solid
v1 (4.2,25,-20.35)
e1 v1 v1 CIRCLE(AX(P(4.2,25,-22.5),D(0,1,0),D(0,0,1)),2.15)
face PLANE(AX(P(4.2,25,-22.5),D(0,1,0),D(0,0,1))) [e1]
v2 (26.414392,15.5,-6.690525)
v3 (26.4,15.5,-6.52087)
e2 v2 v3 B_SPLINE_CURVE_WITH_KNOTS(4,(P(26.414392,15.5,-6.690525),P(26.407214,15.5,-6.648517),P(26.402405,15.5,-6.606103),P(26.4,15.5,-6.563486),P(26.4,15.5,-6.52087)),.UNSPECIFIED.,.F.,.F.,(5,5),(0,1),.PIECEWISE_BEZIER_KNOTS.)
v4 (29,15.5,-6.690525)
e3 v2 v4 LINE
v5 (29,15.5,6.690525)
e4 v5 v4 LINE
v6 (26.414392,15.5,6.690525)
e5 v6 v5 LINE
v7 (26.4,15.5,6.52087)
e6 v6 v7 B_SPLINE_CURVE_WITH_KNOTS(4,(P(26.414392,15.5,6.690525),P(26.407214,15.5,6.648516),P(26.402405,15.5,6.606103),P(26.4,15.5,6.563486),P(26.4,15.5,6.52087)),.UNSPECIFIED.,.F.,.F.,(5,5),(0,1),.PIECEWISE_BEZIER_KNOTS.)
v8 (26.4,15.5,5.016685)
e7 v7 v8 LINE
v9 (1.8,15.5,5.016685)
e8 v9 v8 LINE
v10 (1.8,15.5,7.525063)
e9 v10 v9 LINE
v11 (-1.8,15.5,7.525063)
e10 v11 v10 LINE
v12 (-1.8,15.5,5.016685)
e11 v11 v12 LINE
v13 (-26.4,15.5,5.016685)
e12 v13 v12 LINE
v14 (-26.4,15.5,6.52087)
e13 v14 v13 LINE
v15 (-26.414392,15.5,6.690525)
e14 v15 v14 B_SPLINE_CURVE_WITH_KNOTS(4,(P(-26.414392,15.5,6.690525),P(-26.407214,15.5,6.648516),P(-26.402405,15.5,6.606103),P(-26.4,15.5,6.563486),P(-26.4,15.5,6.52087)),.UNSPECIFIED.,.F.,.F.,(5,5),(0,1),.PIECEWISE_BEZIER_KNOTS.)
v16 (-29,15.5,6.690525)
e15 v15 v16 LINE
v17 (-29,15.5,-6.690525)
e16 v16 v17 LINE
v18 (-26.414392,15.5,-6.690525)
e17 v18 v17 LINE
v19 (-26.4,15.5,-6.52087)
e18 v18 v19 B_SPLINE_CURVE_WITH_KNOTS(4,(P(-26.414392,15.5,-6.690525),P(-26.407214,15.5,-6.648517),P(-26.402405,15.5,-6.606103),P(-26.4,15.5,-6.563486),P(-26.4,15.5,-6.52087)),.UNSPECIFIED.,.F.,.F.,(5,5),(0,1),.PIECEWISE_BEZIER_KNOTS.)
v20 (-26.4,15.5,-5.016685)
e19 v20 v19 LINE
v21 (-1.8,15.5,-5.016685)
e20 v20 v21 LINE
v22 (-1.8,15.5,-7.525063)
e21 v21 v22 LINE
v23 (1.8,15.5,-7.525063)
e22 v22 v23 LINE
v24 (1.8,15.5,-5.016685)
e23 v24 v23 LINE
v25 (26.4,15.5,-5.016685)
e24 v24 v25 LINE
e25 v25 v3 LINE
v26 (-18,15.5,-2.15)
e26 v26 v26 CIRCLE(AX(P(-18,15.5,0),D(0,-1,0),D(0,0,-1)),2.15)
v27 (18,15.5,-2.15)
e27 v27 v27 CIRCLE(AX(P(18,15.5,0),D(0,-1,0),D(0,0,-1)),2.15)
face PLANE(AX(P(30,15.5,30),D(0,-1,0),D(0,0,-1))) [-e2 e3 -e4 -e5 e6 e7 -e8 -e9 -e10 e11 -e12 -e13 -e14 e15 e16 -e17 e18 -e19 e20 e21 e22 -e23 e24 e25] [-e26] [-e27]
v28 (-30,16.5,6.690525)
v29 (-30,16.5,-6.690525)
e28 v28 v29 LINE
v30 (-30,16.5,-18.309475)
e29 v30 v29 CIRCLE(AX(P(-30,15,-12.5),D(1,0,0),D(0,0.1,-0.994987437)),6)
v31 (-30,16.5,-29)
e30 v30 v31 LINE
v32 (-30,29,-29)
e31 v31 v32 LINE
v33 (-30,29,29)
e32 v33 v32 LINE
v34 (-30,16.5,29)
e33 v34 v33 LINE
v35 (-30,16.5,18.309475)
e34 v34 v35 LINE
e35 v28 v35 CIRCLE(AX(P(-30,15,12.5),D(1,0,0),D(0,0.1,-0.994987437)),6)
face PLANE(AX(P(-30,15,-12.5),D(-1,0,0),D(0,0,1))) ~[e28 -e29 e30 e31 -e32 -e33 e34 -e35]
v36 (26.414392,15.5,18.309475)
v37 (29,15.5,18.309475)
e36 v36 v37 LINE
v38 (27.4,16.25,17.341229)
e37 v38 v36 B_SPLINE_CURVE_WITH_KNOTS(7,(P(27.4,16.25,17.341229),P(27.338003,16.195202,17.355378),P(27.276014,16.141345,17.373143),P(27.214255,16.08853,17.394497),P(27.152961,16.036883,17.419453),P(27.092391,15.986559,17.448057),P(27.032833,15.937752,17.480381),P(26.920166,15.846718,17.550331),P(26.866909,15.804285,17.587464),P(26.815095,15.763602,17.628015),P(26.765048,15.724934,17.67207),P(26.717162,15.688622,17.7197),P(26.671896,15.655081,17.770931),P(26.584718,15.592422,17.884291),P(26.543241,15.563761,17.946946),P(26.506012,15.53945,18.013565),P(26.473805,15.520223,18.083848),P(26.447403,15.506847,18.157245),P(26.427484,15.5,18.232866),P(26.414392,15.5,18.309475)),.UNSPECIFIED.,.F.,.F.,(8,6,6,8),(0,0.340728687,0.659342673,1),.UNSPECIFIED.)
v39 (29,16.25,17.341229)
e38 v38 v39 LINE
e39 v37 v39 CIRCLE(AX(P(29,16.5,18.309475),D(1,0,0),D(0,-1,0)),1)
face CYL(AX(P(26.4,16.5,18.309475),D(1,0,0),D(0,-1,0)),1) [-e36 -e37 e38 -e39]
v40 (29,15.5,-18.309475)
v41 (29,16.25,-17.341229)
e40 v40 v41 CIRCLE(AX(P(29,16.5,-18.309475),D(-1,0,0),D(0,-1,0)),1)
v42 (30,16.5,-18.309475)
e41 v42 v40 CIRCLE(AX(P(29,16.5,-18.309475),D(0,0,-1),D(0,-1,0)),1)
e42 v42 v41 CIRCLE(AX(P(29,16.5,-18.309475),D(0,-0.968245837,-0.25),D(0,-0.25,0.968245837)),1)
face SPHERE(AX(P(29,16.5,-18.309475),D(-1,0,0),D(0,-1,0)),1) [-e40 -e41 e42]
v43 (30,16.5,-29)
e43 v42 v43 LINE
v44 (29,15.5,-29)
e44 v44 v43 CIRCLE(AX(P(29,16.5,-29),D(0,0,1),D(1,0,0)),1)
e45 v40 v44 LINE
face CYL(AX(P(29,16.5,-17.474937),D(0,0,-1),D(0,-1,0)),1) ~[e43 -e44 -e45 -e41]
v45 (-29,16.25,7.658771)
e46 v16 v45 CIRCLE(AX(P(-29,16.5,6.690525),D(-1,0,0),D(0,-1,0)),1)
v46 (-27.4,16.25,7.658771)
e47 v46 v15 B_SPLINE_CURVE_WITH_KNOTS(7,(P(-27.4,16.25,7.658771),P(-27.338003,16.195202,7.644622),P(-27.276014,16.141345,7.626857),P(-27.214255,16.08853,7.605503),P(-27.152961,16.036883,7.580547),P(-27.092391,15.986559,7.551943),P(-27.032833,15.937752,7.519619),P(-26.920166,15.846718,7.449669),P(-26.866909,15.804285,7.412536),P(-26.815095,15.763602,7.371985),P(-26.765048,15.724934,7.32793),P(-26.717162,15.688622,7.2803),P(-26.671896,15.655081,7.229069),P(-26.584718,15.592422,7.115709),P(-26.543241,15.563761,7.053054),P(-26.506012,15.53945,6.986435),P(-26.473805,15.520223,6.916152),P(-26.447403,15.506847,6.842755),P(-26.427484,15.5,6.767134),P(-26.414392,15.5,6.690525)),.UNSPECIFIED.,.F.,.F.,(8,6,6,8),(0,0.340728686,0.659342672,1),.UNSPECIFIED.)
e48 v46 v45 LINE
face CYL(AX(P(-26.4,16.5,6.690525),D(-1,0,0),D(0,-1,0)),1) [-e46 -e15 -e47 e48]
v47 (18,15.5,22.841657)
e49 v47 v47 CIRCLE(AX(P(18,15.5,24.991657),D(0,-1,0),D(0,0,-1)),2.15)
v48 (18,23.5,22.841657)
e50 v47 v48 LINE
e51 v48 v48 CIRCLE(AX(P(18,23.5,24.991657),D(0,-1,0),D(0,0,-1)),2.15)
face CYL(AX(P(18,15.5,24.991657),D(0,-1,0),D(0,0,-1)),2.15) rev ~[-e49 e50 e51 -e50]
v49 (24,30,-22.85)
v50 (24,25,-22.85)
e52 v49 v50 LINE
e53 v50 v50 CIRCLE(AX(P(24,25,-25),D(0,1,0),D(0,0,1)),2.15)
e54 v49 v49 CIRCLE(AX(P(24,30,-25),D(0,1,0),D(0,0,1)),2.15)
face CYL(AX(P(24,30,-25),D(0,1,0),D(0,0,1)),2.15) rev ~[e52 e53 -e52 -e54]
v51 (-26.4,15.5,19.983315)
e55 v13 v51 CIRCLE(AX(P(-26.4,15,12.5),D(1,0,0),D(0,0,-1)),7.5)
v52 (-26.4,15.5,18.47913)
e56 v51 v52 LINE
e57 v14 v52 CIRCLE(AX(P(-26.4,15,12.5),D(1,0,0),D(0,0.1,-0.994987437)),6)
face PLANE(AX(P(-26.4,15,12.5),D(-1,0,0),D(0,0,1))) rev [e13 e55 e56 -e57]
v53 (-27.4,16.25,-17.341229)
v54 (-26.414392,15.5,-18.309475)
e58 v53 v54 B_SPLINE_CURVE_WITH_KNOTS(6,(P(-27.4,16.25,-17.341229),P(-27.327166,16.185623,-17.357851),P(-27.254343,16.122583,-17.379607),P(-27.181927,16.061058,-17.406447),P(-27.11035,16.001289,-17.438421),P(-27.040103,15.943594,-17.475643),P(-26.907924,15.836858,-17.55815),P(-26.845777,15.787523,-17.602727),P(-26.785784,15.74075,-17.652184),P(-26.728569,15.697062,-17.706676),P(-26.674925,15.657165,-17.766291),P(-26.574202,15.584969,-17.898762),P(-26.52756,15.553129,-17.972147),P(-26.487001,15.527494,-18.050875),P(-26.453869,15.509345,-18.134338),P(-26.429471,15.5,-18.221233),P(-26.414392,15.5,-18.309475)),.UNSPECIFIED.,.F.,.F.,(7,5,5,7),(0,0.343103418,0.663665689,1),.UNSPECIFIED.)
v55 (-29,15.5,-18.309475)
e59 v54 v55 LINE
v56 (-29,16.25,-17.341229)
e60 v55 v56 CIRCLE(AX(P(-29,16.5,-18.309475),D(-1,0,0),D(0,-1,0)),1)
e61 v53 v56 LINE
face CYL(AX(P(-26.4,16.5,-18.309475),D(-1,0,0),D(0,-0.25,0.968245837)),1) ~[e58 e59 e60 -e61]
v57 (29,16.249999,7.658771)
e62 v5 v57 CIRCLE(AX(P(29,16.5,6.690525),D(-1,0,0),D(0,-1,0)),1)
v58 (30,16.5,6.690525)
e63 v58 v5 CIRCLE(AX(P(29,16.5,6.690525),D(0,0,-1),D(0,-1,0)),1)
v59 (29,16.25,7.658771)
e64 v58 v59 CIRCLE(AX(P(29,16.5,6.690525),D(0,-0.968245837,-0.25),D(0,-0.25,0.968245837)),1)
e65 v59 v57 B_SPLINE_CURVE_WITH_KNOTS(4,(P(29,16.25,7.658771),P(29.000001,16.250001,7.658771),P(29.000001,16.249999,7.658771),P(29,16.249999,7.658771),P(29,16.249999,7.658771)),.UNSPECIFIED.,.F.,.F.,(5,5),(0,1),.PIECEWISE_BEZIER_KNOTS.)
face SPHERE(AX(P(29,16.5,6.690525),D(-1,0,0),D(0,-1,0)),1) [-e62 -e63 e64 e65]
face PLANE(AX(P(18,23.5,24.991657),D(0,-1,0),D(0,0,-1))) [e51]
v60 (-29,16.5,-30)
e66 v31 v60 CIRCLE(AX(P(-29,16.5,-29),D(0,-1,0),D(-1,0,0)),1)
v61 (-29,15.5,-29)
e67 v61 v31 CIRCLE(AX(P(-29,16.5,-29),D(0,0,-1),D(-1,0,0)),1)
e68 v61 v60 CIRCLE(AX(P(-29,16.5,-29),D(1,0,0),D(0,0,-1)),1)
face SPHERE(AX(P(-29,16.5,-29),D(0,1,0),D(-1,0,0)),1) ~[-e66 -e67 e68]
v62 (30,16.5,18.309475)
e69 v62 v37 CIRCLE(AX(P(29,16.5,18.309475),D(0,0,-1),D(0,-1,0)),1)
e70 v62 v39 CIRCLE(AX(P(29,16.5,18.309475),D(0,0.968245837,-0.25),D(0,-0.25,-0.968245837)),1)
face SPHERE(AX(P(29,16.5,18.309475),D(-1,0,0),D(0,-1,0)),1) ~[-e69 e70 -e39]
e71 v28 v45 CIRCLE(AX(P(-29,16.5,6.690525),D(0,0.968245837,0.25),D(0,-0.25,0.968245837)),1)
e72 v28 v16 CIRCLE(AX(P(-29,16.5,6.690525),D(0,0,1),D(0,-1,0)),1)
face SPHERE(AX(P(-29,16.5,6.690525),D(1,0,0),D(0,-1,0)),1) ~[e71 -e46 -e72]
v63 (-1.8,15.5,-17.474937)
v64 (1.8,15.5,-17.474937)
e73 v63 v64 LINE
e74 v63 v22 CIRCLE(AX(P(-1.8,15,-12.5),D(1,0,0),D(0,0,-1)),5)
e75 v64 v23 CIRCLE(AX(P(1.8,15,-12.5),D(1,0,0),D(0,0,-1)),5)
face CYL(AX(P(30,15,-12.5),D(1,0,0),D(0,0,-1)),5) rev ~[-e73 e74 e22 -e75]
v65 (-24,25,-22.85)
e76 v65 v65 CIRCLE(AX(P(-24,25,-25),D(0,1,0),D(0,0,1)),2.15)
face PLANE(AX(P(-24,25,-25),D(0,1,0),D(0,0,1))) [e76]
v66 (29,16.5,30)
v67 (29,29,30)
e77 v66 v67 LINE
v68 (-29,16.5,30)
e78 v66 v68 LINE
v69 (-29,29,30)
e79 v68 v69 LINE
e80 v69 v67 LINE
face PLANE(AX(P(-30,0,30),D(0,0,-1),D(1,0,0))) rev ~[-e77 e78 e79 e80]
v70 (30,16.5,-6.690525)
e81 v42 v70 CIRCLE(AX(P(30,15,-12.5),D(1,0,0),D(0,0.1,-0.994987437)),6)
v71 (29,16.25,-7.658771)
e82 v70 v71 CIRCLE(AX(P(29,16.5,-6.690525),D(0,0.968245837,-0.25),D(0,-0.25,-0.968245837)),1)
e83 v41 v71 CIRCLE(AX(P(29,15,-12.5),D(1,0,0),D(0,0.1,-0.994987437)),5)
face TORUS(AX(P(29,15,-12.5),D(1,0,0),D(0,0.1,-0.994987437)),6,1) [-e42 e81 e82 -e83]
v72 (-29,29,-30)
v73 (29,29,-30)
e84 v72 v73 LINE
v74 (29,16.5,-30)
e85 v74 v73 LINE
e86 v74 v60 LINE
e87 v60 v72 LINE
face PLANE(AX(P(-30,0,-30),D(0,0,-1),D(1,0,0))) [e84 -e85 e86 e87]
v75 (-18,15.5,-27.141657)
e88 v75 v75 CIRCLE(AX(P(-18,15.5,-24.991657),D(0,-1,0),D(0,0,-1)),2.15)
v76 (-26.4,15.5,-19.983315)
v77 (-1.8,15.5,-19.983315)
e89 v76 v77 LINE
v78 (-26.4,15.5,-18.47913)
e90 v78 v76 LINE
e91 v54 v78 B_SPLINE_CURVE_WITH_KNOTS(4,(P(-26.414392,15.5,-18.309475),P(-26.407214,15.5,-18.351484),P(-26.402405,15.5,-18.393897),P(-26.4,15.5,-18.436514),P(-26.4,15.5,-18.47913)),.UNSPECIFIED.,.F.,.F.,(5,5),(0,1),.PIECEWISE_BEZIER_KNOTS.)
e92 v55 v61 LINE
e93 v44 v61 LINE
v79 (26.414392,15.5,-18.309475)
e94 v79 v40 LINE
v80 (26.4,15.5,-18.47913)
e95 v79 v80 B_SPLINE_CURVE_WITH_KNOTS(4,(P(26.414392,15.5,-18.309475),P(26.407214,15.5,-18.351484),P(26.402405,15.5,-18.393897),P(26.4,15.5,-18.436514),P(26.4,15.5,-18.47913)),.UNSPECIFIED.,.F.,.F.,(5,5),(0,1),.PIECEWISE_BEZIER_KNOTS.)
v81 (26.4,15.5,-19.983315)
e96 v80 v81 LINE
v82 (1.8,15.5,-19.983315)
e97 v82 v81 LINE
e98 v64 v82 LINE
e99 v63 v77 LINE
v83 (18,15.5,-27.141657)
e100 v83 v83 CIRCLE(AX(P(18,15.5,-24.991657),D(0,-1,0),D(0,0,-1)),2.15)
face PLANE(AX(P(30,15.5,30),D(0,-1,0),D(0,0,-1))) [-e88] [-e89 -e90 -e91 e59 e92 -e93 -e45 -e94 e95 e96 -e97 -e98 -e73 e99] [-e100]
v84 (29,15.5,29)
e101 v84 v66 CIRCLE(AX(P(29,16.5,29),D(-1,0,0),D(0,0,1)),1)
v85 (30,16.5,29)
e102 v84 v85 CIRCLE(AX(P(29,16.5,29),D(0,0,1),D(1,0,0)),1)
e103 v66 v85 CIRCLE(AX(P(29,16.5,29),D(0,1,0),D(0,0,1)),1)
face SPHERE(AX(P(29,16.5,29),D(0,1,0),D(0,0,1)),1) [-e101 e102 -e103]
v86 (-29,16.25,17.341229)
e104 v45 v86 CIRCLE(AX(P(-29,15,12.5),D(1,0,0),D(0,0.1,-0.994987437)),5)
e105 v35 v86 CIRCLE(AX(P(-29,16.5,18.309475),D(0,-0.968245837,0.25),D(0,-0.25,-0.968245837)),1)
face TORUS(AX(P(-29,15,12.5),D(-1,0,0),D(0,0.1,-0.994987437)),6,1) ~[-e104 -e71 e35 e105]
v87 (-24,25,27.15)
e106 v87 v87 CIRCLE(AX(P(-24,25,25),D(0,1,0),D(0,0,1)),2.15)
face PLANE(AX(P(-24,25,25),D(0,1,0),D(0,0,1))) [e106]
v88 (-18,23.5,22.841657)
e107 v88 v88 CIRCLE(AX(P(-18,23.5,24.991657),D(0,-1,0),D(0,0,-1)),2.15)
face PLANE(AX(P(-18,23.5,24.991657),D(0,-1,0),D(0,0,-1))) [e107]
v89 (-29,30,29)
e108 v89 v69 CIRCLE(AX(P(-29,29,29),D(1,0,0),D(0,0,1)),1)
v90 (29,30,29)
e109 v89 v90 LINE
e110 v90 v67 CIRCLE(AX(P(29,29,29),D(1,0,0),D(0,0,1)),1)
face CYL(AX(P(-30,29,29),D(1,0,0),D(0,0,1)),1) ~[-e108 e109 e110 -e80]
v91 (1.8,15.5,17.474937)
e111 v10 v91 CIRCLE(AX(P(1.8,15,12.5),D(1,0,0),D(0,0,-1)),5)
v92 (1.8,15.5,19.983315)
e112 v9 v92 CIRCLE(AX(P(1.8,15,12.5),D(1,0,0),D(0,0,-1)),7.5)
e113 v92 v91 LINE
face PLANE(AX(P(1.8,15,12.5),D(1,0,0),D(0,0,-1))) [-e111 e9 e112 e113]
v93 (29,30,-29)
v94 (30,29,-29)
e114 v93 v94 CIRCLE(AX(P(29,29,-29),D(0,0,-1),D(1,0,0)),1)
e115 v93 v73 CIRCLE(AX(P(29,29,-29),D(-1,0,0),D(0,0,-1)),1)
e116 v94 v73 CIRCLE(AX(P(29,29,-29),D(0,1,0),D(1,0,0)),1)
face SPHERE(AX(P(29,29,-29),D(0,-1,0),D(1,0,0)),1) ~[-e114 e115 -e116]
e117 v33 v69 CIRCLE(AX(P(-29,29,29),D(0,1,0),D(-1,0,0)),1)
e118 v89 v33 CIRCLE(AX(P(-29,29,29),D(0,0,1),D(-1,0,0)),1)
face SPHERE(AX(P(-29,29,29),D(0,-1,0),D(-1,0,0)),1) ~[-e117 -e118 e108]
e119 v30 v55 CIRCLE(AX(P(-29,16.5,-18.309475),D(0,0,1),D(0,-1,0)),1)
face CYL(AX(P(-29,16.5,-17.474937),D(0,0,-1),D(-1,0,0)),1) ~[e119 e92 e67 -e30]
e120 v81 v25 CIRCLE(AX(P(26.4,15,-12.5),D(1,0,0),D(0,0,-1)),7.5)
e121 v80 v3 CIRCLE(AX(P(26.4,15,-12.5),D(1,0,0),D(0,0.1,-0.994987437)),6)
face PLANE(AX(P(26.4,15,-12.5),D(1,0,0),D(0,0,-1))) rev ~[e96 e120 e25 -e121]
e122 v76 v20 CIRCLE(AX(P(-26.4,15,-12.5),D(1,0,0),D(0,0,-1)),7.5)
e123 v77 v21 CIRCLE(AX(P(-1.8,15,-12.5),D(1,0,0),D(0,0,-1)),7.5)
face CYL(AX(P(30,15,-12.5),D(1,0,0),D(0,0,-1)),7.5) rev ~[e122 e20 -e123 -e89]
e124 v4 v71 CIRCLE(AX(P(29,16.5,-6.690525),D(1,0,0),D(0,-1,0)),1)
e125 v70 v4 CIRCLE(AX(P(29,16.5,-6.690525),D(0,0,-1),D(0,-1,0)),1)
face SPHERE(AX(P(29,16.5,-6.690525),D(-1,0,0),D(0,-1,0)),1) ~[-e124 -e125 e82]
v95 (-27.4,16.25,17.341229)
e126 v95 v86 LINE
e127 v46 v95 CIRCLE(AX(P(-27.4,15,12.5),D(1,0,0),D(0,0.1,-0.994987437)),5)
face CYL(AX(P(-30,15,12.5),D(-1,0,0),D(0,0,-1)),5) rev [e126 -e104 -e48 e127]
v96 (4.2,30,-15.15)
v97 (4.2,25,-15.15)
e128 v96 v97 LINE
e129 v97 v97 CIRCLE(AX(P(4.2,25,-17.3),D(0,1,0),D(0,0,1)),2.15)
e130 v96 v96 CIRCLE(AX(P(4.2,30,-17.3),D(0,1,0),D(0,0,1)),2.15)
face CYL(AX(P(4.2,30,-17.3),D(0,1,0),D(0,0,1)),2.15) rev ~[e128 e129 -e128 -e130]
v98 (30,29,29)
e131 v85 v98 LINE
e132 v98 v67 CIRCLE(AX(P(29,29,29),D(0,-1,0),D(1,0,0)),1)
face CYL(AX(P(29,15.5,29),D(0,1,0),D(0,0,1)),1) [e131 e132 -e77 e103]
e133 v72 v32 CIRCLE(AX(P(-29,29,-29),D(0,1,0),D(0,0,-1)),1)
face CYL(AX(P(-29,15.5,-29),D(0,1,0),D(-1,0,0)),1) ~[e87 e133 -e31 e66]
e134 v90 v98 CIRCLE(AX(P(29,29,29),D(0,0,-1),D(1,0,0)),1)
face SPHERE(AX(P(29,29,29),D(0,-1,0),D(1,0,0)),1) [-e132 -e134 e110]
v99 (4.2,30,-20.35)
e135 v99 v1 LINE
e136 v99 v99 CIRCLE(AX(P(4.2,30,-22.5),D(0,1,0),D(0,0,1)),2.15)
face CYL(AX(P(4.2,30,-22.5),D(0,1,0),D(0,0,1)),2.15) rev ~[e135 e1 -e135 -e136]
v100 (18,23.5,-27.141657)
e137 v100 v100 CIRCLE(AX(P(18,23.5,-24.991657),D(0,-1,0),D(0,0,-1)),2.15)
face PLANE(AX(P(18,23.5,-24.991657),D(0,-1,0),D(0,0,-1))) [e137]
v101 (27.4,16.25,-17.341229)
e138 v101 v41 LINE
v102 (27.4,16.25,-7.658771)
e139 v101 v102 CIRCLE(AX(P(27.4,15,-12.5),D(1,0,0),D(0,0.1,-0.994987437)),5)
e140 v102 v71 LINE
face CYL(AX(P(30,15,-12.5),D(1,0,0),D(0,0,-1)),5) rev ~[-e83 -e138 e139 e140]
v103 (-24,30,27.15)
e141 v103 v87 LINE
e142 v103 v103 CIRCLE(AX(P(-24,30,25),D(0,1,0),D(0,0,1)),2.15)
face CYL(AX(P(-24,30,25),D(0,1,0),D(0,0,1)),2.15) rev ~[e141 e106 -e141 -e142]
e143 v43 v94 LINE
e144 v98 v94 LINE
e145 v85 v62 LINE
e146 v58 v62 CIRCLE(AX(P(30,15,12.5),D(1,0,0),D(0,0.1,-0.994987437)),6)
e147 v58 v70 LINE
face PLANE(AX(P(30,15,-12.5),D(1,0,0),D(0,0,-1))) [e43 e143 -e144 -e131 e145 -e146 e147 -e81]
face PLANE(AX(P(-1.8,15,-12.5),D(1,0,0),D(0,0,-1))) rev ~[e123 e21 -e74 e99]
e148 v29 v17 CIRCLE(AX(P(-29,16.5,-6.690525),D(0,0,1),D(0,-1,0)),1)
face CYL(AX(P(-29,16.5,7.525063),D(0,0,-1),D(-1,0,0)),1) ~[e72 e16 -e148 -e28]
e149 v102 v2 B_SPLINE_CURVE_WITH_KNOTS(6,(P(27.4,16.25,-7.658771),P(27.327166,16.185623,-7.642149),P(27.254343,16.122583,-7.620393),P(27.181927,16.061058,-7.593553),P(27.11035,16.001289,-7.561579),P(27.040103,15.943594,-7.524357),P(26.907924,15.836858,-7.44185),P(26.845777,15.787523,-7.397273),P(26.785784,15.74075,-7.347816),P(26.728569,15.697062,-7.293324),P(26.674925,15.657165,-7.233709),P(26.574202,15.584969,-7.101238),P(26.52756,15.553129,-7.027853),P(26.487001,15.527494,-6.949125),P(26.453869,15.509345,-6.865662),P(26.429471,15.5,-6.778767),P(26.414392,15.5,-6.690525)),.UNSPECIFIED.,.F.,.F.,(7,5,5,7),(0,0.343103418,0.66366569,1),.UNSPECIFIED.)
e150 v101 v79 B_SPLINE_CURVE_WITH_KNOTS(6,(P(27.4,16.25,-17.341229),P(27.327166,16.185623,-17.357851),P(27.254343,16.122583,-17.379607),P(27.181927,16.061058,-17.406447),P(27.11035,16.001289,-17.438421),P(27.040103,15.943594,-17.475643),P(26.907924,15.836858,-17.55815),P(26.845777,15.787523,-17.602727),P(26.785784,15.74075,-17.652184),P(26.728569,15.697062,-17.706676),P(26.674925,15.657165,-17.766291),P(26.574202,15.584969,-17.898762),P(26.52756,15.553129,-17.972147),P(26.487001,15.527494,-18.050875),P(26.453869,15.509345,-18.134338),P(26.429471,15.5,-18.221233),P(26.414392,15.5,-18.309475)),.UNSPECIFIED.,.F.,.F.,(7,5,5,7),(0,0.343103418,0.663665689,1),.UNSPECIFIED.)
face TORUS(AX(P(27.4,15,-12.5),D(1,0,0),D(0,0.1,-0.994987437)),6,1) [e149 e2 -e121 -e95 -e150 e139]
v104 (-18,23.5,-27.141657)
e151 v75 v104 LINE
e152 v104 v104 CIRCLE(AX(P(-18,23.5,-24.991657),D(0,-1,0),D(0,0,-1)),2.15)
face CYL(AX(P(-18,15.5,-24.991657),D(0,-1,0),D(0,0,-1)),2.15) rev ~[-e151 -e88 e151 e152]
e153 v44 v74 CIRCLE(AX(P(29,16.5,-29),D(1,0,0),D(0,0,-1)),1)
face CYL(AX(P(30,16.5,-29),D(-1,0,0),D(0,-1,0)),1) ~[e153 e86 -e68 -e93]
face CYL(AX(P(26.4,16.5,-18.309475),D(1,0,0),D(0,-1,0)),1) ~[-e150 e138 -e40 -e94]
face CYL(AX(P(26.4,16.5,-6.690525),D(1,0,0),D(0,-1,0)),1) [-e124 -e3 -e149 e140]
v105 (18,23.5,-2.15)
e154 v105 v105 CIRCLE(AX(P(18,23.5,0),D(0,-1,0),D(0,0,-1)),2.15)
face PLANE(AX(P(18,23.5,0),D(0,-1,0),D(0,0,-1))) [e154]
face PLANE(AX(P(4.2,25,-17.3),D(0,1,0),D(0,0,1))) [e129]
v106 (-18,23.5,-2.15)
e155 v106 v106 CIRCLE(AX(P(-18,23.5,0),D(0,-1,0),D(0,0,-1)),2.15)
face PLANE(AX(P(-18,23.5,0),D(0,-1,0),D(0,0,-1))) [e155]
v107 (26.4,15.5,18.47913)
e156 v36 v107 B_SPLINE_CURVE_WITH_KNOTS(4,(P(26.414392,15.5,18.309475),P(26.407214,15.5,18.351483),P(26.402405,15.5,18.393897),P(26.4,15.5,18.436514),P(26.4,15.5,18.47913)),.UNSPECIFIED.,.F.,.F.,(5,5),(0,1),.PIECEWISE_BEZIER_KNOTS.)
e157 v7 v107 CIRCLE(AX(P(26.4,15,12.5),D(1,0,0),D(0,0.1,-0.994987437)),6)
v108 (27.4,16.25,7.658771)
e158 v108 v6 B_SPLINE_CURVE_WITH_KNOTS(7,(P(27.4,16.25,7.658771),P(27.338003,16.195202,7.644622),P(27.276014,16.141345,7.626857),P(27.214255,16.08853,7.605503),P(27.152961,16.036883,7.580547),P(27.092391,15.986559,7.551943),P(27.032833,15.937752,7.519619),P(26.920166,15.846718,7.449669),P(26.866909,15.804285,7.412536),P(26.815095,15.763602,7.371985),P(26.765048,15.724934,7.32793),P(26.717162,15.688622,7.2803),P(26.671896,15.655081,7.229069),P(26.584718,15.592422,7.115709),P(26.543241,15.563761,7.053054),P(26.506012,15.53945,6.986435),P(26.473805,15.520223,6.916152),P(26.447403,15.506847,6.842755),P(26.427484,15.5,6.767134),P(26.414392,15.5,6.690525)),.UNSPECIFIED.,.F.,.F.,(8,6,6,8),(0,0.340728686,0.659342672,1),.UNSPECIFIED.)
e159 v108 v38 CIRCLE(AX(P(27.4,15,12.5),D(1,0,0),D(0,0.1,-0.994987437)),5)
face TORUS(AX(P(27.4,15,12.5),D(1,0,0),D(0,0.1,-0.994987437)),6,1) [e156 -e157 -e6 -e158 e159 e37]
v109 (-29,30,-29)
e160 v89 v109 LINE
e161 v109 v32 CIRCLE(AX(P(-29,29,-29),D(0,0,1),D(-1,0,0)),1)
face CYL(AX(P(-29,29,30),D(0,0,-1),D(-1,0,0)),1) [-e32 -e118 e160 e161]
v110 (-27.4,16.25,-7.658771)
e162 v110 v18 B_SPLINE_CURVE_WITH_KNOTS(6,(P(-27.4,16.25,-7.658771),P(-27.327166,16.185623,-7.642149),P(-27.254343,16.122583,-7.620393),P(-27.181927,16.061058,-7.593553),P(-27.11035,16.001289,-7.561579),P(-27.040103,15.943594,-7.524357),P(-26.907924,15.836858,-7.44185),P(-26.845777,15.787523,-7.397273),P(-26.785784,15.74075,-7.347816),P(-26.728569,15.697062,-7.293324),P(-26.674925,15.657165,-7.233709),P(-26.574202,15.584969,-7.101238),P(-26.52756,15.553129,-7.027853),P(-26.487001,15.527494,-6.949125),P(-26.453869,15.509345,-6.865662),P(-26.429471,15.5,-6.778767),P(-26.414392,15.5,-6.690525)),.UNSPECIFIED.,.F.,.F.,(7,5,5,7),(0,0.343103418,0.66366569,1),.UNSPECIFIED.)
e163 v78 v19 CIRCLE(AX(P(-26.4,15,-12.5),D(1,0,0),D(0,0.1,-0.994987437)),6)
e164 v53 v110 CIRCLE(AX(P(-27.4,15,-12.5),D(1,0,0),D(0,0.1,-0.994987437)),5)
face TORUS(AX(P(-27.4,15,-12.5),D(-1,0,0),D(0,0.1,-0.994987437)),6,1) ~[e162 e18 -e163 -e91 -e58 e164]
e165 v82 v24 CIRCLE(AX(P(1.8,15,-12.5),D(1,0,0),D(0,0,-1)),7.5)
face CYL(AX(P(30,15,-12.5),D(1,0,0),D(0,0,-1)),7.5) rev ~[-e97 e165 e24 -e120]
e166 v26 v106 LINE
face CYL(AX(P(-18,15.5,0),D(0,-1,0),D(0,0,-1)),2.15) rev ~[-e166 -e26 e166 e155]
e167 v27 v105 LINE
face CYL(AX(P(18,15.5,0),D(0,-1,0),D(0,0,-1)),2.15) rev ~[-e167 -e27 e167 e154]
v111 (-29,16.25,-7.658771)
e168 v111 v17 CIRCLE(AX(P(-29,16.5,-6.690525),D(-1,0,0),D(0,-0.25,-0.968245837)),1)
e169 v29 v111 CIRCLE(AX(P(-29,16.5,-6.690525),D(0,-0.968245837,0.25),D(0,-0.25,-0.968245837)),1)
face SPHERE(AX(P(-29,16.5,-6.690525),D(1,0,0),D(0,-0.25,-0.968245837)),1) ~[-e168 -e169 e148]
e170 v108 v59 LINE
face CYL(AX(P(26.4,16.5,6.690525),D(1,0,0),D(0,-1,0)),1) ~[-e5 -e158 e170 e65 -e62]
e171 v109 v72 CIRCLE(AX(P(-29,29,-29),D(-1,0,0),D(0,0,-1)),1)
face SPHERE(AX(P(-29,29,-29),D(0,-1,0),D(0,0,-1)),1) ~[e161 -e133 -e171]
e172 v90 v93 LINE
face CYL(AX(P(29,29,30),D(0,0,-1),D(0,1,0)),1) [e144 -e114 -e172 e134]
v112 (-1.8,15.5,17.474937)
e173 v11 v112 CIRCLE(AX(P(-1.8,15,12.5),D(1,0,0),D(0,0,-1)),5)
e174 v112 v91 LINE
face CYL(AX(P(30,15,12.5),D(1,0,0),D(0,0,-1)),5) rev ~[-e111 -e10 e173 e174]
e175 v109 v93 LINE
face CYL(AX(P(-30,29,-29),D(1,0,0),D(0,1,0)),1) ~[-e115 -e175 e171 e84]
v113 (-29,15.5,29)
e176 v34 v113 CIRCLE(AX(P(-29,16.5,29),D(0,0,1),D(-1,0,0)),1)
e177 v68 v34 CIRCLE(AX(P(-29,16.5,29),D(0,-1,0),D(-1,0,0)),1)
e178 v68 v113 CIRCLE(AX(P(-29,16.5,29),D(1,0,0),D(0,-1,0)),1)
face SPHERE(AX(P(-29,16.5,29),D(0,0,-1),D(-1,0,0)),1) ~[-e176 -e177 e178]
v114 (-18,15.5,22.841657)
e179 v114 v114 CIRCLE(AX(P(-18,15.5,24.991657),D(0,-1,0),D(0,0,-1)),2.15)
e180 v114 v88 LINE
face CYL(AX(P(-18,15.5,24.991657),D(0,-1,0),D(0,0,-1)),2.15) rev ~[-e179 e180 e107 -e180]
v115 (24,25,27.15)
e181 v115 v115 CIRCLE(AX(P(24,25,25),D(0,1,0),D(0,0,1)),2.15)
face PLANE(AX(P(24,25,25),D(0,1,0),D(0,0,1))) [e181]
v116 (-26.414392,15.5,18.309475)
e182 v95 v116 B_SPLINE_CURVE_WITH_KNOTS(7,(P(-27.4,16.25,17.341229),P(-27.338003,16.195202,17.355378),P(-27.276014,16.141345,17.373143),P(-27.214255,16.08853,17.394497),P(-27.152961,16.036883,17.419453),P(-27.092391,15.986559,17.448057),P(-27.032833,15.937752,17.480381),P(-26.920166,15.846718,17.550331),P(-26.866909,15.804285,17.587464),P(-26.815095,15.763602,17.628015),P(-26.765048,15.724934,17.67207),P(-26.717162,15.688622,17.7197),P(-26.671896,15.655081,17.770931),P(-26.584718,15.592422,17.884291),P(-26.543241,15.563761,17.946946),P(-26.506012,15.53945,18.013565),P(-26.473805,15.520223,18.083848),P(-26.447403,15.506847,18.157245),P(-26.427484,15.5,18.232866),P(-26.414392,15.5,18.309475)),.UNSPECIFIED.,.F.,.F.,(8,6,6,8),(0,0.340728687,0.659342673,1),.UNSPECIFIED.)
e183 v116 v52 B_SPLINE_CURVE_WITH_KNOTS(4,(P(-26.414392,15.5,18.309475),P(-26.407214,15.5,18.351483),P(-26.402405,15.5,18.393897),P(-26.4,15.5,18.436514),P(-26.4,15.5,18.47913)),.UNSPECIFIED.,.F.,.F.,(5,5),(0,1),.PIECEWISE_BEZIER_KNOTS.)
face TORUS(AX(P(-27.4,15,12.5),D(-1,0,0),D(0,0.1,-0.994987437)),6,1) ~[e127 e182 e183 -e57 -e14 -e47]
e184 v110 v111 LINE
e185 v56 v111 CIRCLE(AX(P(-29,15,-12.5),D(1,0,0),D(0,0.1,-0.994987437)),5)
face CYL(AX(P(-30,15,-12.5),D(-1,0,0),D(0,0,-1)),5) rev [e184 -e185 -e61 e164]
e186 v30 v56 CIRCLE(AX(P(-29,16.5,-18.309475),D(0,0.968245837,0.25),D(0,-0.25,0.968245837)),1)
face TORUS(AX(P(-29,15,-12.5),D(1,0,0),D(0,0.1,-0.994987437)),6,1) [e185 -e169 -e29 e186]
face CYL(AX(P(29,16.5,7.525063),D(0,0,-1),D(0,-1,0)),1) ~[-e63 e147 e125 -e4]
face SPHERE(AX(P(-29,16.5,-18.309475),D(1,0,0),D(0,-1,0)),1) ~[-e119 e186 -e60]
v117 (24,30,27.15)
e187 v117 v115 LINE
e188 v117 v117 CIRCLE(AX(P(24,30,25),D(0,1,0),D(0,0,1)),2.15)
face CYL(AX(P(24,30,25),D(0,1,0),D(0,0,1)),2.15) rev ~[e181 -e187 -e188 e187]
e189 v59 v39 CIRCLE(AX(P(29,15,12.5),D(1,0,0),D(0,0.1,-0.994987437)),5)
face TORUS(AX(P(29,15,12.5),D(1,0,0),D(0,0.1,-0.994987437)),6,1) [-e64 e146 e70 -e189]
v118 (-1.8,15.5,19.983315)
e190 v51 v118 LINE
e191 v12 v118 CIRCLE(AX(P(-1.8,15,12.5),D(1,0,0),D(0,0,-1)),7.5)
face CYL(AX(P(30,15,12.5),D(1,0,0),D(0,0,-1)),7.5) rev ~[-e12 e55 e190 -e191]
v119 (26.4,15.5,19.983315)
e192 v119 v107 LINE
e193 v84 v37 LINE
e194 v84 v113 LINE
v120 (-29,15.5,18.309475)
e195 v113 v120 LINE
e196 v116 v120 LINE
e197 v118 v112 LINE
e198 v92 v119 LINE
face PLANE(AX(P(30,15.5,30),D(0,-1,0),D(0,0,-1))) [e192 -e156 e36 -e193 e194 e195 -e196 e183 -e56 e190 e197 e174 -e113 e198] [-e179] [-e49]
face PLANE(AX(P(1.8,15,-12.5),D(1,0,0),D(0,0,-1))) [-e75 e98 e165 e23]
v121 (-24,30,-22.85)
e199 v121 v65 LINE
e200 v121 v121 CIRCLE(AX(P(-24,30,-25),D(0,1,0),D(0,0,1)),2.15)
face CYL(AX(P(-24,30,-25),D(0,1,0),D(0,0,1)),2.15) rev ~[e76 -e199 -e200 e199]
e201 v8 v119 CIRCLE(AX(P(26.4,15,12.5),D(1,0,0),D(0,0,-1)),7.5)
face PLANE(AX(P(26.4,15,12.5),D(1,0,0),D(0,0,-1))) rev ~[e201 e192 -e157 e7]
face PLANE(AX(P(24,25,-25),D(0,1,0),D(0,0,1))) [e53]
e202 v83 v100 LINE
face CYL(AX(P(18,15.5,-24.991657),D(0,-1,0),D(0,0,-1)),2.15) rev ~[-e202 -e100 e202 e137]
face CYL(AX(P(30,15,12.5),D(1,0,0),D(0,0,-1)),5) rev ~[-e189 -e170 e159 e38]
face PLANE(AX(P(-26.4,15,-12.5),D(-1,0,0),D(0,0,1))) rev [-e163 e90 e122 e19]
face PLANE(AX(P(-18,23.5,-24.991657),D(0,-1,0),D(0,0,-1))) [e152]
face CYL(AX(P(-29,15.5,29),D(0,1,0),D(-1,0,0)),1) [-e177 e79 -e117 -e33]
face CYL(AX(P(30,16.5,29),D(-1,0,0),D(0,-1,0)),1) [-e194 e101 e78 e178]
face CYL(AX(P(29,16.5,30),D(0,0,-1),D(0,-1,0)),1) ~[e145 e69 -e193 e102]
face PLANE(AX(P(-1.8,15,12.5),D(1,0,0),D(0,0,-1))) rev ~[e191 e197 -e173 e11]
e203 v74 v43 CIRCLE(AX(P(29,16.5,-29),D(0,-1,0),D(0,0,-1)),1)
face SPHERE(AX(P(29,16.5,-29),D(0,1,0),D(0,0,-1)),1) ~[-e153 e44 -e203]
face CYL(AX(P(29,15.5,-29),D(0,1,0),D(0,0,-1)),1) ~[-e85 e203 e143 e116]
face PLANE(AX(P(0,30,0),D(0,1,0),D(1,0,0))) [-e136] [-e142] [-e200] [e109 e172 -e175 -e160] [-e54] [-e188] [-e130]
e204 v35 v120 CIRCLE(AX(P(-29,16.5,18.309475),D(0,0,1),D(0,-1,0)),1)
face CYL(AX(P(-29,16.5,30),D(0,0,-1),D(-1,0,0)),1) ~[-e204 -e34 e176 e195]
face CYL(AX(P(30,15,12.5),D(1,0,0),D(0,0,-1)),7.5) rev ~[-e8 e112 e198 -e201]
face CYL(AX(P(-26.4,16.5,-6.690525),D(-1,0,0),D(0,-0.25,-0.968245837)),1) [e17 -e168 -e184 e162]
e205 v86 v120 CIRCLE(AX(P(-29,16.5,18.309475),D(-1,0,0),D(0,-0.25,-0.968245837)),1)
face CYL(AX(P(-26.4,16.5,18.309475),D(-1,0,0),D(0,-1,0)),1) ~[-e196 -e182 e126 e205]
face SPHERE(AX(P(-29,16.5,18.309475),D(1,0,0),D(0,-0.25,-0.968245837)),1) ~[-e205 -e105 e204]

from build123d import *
from build123d.topology import SkipClean

# Parameters (mm, degrees)
SKETCH1_W           = 60
SKETCH1_H           = 60
BOSS_EXTRUDE1_DEPTH = 30
CUT_EXTRUDE1_REACH  = 75.485
SKETCH2_R           = 7.5
SKETCH6_R           = 7.5
BOSS_EXTRUDE2_DEPTH = 1.8
SKETCH3_R           = 2.15
CUT_EXTRUDE2_DEPTH  = 5
SKETCH7_R           = 7.5
SKETCH7_R_2         = 5
BOSS_EXTRUDE3_DEPTH = 3.6
SKETCH4_W           = 60
SKETCH4_H           = 1
CUT_EXTRUDE3_DEPTH  = 74.484692283
SKETCH5_R           = 2.15
CUT_EXTRUDE4_DEPTH  = 8
FILLET2_R           = 1
SKETCH10_R          = 5
CUT_EXTRUDE5_DEPTH  = 74.484692283
SKETCH11_R          = 2.15
L_ARM_HOLES_DEPTH   = 5


with BuildPart() as part:
    # Sketch1 → Boss-Extrude1 (new body)
    with BuildSketch(Plane(origin=(0, 0, 0), x_dir=(1, 0, 0), z_dir=(0, 1, 0))):
        Rectangle(SKETCH1_W, SKETCH1_H)
    extrude(amount=BOSS_EXTRUDE1_DEPTH)

    # Sketch2 → Cut-Extrude1 (cut, up to next)
    with BuildSketch(Plane(origin=(30, 0, 0), x_dir=(0, 0, -1), z_dir=(1, 0, 0)), mode=Mode.PRIVATE) as cut_extrude1_sk1:
        with Locations((-12.5, 15)):
            Circle(SKETCH2_R)
    cut_extrude1_tool1 = extrude(cut_extrude1_sk1.sketch, amount=-CUT_EXTRUDE1_REACH, mode=Mode.PRIVATE) & part.part
    # Sketch2 → Cut-Extrude1 (cut, up to next)
    with BuildSketch(Plane(origin=(30, 0, 0), x_dir=(0, 0, -1), z_dir=(1, 0, 0)), mode=Mode.PRIVATE) as cut_extrude1_sk2:
        with Locations((12.5, 15)):
            Circle(SKETCH2_R)
    cut_extrude1_tool2 = extrude(cut_extrude1_sk2.sketch, amount=-CUT_EXTRUDE1_REACH, mode=Mode.PRIVATE) & part.part
    add(cut_extrude1_tool1.solids().sort_by_distance((30, 15, 12.5))[0], mode=Mode.SUBTRACT)
    add(cut_extrude1_tool2.solids().sort_by_distance((30, 15, -12.5))[0], mode=Mode.SUBTRACT)

    # Sketch6 → Boss-Extrude2 (add, symmetric)
    with BuildSketch(Plane(origin=(0, 0, 0), x_dir=(0, 0, -1), z_dir=(1, 0, 0))):
        with Locations((12.5, 15)):
            Circle(SKETCH6_R)
        with Locations((-12.5, 15)):
            Circle(SKETCH6_R)
    extrude(amount=BOSS_EXTRUDE2_DEPTH, both=True)

    # Sketch3 → Cut-Extrude2 (cut)
    with BuildSketch(Plane(origin=(0, 30, 0), x_dir=(1, 0, 0), z_dir=(0, 1, 0))):
        with Locations(Location((-24, 25, 0), (0, 0, 270))):
            Circle(SKETCH3_R)
        with Locations(Location((-24, -25, 0), (0, 0, 270))):
            Circle(SKETCH3_R)
        with Locations(Location((24, -25, 0), (0, 0, 270))):
            Circle(SKETCH3_R)
        with Locations(Location((24, 25, 0), (0, 0, 270))):
            Circle(SKETCH3_R)
    extrude(amount=-CUT_EXTRUDE2_DEPTH, mode=Mode.SUBTRACT)

    # Sketch7 → Boss-Extrude3 (add)
    # profile 1 of 2: a face of its own
    with BuildSketch(Plane(origin=(30, 0, 0), x_dir=(0, 0, -1), z_dir=(1, 0, 0))):
        with Locations((12.5, 15)):
            Circle(SKETCH7_R)
        with Locations((12.5, 15)):
            Circle(SKETCH7_R_2, mode=Mode.SUBTRACT)
    # profile 2 of 2: a face of its own
    with BuildSketch(Plane(origin=(30, 0, 0), x_dir=(0, 0, -1), z_dir=(1, 0, 0))):
        with Locations((-12.5, 15)):
            Circle(SKETCH7_R)
        with Locations((-12.5, 15)):
            Circle(SKETCH7_R_2, mode=Mode.SUBTRACT)
    boss_extrude3 = extrude(amount=-BOSS_EXTRUDE3_DEPTH)

    # Mirror1: Boss-Extrude3 across plane
    add(boss_extrude3.mirror(Plane(origin=(0, 0, 0), x_dir=(0, 0, 1), z_dir=(1, 0, 0))))

    # Sketch4 → Cut-Extrude3 (cut, through all)
    with BuildSketch(Plane(origin=(30, 0, 0), x_dir=(0, 0, -1), z_dir=(1, 0, 0))):
        with Locations((0, 15)):
            Rectangle(SKETCH4_W, SKETCH4_H)
    extrude(amount=-CUT_EXTRUDE3_DEPTH, mode=Mode.SUBTRACT)


with BuildPart() as cut_extrude3_kept_piece:
    # of the separate pieces the step leaves, the one the design keeps (cut_extrude3_pieces_kept)
    add(part.part.solids().sort_by_distance((30, 15.5, 30))[0])

    # Sketch5 → Cut-Extrude4 (cut)
    with BuildSketch(Plane.XZ.offset(-15.5)):
        with Locations(Location((18, 24.991657387, 0), (0, 0, 270))):
            Circle(SKETCH5_R)
        with Locations(Location((-18, 24.991657387, 0), (0, 0, 270))):
            Circle(SKETCH5_R)
        with Locations(Location((-18, 0, 0), (0, 0, 270))):
            Circle(SKETCH5_R)
        with Locations(Location((18, 0, 0), (0, 0, 270))):
            Circle(SKETCH5_R)
        with Locations(Location((18, -24.991657387, 0), (0, 0, 270))):
            Circle(SKETCH5_R)
        with Locations(Location((-18, -24.991657387, 0), (0, 0, 270))):
            Circle(SKETCH5_R)
    extrude(amount=-CUT_EXTRUDE4_DEPTH, mode=Mode.SUBTRACT)

    # Fillet2
    fillet2_edges = [cut_extrude3_kept_piece.edges().sort_by_distance(p)[0] for p in [
        (30, 22.75, 30),
        (30, 22.75, -30),
        (-30, 22.75, -30),
        (-30, 15.5, -23.737468593),
        (-30, 20, -12.5),
        (-30, 15.5, 0),
        (-30, 20, 12.5),
        (-30, 15.5, 23.737468593),
        (-30, 22.75, 30),
        (0, 15.5, 30),
        (30, 30, 0),
        (0, 30, -30),
        (-30, 30, 0),
        (0, 30, 30),
        (26.4, 20, 12.5),
        (30, 20, 12.5),
        (28.2, 15.5, 17.474937186),
        (28.2, 15.5, 7.525062814),
        (26.4, 20, -12.5),
        (30, 20, -12.5),
        (28.2, 15.5, -7.525062814),
        (28.2, 15.5, -17.474937186),
        (-26.4, 20, 12.5),
        (-26.4, 20, -12.5),
        (30, 15.5, 23.737468593),
        (-28.2, 15.5, 17.474937186),
        (-28.2, 15.5, 7.525062814),
        (-28.2, 15.5, -7.525062814),
        (-28.2, 15.5, -17.474937186),
        (0, 15.5, -30),
        (30, 15.5, -23.737468593),
        (30, 15.5, 0),
    ]]
    fillet(fillet2_edges, radius=FILLET2_R)

    # Sketch10 → Cut-Extrude5 (cut, through all)
    with SkipClean():  # the faces are left unmerged after this step: merging them gives an invalid solid
        with BuildSketch(Plane(origin=(30, 0, 0), x_dir=(0, 0, -1), z_dir=(1, 0, 0))):
            with Locations((-12.5, 15)):
                Circle(SKETCH10_R)
            with Locations((12.5, 15)):
                Circle(SKETCH10_R)
        extrude(amount=-CUT_EXTRUDE5_DEPTH, mode=Mode.SUBTRACT)

    # Sketch11 → L-Arm Holes (cut)
    with SkipClean():  # the faces are left unmerged after this step: merging them gives an invalid solid
        with BuildSketch(Plane(origin=(0, 30, 0), x_dir=(1, 0, 0), z_dir=(0, 1, 0))):
            with Locations(Location((4.2, 22.5, 0), (0, 0, 270))):
                Circle(SKETCH11_R)
            with Locations(Location((4.2, 17.3, 0), (0, 0, 270))):
                Circle(SKETCH11_R)
        extrude(amount=-L_ARM_HOLES_DEPTH, mode=Mode.SUBTRACT)


solid = cut_extrude3_kept_piece.part
